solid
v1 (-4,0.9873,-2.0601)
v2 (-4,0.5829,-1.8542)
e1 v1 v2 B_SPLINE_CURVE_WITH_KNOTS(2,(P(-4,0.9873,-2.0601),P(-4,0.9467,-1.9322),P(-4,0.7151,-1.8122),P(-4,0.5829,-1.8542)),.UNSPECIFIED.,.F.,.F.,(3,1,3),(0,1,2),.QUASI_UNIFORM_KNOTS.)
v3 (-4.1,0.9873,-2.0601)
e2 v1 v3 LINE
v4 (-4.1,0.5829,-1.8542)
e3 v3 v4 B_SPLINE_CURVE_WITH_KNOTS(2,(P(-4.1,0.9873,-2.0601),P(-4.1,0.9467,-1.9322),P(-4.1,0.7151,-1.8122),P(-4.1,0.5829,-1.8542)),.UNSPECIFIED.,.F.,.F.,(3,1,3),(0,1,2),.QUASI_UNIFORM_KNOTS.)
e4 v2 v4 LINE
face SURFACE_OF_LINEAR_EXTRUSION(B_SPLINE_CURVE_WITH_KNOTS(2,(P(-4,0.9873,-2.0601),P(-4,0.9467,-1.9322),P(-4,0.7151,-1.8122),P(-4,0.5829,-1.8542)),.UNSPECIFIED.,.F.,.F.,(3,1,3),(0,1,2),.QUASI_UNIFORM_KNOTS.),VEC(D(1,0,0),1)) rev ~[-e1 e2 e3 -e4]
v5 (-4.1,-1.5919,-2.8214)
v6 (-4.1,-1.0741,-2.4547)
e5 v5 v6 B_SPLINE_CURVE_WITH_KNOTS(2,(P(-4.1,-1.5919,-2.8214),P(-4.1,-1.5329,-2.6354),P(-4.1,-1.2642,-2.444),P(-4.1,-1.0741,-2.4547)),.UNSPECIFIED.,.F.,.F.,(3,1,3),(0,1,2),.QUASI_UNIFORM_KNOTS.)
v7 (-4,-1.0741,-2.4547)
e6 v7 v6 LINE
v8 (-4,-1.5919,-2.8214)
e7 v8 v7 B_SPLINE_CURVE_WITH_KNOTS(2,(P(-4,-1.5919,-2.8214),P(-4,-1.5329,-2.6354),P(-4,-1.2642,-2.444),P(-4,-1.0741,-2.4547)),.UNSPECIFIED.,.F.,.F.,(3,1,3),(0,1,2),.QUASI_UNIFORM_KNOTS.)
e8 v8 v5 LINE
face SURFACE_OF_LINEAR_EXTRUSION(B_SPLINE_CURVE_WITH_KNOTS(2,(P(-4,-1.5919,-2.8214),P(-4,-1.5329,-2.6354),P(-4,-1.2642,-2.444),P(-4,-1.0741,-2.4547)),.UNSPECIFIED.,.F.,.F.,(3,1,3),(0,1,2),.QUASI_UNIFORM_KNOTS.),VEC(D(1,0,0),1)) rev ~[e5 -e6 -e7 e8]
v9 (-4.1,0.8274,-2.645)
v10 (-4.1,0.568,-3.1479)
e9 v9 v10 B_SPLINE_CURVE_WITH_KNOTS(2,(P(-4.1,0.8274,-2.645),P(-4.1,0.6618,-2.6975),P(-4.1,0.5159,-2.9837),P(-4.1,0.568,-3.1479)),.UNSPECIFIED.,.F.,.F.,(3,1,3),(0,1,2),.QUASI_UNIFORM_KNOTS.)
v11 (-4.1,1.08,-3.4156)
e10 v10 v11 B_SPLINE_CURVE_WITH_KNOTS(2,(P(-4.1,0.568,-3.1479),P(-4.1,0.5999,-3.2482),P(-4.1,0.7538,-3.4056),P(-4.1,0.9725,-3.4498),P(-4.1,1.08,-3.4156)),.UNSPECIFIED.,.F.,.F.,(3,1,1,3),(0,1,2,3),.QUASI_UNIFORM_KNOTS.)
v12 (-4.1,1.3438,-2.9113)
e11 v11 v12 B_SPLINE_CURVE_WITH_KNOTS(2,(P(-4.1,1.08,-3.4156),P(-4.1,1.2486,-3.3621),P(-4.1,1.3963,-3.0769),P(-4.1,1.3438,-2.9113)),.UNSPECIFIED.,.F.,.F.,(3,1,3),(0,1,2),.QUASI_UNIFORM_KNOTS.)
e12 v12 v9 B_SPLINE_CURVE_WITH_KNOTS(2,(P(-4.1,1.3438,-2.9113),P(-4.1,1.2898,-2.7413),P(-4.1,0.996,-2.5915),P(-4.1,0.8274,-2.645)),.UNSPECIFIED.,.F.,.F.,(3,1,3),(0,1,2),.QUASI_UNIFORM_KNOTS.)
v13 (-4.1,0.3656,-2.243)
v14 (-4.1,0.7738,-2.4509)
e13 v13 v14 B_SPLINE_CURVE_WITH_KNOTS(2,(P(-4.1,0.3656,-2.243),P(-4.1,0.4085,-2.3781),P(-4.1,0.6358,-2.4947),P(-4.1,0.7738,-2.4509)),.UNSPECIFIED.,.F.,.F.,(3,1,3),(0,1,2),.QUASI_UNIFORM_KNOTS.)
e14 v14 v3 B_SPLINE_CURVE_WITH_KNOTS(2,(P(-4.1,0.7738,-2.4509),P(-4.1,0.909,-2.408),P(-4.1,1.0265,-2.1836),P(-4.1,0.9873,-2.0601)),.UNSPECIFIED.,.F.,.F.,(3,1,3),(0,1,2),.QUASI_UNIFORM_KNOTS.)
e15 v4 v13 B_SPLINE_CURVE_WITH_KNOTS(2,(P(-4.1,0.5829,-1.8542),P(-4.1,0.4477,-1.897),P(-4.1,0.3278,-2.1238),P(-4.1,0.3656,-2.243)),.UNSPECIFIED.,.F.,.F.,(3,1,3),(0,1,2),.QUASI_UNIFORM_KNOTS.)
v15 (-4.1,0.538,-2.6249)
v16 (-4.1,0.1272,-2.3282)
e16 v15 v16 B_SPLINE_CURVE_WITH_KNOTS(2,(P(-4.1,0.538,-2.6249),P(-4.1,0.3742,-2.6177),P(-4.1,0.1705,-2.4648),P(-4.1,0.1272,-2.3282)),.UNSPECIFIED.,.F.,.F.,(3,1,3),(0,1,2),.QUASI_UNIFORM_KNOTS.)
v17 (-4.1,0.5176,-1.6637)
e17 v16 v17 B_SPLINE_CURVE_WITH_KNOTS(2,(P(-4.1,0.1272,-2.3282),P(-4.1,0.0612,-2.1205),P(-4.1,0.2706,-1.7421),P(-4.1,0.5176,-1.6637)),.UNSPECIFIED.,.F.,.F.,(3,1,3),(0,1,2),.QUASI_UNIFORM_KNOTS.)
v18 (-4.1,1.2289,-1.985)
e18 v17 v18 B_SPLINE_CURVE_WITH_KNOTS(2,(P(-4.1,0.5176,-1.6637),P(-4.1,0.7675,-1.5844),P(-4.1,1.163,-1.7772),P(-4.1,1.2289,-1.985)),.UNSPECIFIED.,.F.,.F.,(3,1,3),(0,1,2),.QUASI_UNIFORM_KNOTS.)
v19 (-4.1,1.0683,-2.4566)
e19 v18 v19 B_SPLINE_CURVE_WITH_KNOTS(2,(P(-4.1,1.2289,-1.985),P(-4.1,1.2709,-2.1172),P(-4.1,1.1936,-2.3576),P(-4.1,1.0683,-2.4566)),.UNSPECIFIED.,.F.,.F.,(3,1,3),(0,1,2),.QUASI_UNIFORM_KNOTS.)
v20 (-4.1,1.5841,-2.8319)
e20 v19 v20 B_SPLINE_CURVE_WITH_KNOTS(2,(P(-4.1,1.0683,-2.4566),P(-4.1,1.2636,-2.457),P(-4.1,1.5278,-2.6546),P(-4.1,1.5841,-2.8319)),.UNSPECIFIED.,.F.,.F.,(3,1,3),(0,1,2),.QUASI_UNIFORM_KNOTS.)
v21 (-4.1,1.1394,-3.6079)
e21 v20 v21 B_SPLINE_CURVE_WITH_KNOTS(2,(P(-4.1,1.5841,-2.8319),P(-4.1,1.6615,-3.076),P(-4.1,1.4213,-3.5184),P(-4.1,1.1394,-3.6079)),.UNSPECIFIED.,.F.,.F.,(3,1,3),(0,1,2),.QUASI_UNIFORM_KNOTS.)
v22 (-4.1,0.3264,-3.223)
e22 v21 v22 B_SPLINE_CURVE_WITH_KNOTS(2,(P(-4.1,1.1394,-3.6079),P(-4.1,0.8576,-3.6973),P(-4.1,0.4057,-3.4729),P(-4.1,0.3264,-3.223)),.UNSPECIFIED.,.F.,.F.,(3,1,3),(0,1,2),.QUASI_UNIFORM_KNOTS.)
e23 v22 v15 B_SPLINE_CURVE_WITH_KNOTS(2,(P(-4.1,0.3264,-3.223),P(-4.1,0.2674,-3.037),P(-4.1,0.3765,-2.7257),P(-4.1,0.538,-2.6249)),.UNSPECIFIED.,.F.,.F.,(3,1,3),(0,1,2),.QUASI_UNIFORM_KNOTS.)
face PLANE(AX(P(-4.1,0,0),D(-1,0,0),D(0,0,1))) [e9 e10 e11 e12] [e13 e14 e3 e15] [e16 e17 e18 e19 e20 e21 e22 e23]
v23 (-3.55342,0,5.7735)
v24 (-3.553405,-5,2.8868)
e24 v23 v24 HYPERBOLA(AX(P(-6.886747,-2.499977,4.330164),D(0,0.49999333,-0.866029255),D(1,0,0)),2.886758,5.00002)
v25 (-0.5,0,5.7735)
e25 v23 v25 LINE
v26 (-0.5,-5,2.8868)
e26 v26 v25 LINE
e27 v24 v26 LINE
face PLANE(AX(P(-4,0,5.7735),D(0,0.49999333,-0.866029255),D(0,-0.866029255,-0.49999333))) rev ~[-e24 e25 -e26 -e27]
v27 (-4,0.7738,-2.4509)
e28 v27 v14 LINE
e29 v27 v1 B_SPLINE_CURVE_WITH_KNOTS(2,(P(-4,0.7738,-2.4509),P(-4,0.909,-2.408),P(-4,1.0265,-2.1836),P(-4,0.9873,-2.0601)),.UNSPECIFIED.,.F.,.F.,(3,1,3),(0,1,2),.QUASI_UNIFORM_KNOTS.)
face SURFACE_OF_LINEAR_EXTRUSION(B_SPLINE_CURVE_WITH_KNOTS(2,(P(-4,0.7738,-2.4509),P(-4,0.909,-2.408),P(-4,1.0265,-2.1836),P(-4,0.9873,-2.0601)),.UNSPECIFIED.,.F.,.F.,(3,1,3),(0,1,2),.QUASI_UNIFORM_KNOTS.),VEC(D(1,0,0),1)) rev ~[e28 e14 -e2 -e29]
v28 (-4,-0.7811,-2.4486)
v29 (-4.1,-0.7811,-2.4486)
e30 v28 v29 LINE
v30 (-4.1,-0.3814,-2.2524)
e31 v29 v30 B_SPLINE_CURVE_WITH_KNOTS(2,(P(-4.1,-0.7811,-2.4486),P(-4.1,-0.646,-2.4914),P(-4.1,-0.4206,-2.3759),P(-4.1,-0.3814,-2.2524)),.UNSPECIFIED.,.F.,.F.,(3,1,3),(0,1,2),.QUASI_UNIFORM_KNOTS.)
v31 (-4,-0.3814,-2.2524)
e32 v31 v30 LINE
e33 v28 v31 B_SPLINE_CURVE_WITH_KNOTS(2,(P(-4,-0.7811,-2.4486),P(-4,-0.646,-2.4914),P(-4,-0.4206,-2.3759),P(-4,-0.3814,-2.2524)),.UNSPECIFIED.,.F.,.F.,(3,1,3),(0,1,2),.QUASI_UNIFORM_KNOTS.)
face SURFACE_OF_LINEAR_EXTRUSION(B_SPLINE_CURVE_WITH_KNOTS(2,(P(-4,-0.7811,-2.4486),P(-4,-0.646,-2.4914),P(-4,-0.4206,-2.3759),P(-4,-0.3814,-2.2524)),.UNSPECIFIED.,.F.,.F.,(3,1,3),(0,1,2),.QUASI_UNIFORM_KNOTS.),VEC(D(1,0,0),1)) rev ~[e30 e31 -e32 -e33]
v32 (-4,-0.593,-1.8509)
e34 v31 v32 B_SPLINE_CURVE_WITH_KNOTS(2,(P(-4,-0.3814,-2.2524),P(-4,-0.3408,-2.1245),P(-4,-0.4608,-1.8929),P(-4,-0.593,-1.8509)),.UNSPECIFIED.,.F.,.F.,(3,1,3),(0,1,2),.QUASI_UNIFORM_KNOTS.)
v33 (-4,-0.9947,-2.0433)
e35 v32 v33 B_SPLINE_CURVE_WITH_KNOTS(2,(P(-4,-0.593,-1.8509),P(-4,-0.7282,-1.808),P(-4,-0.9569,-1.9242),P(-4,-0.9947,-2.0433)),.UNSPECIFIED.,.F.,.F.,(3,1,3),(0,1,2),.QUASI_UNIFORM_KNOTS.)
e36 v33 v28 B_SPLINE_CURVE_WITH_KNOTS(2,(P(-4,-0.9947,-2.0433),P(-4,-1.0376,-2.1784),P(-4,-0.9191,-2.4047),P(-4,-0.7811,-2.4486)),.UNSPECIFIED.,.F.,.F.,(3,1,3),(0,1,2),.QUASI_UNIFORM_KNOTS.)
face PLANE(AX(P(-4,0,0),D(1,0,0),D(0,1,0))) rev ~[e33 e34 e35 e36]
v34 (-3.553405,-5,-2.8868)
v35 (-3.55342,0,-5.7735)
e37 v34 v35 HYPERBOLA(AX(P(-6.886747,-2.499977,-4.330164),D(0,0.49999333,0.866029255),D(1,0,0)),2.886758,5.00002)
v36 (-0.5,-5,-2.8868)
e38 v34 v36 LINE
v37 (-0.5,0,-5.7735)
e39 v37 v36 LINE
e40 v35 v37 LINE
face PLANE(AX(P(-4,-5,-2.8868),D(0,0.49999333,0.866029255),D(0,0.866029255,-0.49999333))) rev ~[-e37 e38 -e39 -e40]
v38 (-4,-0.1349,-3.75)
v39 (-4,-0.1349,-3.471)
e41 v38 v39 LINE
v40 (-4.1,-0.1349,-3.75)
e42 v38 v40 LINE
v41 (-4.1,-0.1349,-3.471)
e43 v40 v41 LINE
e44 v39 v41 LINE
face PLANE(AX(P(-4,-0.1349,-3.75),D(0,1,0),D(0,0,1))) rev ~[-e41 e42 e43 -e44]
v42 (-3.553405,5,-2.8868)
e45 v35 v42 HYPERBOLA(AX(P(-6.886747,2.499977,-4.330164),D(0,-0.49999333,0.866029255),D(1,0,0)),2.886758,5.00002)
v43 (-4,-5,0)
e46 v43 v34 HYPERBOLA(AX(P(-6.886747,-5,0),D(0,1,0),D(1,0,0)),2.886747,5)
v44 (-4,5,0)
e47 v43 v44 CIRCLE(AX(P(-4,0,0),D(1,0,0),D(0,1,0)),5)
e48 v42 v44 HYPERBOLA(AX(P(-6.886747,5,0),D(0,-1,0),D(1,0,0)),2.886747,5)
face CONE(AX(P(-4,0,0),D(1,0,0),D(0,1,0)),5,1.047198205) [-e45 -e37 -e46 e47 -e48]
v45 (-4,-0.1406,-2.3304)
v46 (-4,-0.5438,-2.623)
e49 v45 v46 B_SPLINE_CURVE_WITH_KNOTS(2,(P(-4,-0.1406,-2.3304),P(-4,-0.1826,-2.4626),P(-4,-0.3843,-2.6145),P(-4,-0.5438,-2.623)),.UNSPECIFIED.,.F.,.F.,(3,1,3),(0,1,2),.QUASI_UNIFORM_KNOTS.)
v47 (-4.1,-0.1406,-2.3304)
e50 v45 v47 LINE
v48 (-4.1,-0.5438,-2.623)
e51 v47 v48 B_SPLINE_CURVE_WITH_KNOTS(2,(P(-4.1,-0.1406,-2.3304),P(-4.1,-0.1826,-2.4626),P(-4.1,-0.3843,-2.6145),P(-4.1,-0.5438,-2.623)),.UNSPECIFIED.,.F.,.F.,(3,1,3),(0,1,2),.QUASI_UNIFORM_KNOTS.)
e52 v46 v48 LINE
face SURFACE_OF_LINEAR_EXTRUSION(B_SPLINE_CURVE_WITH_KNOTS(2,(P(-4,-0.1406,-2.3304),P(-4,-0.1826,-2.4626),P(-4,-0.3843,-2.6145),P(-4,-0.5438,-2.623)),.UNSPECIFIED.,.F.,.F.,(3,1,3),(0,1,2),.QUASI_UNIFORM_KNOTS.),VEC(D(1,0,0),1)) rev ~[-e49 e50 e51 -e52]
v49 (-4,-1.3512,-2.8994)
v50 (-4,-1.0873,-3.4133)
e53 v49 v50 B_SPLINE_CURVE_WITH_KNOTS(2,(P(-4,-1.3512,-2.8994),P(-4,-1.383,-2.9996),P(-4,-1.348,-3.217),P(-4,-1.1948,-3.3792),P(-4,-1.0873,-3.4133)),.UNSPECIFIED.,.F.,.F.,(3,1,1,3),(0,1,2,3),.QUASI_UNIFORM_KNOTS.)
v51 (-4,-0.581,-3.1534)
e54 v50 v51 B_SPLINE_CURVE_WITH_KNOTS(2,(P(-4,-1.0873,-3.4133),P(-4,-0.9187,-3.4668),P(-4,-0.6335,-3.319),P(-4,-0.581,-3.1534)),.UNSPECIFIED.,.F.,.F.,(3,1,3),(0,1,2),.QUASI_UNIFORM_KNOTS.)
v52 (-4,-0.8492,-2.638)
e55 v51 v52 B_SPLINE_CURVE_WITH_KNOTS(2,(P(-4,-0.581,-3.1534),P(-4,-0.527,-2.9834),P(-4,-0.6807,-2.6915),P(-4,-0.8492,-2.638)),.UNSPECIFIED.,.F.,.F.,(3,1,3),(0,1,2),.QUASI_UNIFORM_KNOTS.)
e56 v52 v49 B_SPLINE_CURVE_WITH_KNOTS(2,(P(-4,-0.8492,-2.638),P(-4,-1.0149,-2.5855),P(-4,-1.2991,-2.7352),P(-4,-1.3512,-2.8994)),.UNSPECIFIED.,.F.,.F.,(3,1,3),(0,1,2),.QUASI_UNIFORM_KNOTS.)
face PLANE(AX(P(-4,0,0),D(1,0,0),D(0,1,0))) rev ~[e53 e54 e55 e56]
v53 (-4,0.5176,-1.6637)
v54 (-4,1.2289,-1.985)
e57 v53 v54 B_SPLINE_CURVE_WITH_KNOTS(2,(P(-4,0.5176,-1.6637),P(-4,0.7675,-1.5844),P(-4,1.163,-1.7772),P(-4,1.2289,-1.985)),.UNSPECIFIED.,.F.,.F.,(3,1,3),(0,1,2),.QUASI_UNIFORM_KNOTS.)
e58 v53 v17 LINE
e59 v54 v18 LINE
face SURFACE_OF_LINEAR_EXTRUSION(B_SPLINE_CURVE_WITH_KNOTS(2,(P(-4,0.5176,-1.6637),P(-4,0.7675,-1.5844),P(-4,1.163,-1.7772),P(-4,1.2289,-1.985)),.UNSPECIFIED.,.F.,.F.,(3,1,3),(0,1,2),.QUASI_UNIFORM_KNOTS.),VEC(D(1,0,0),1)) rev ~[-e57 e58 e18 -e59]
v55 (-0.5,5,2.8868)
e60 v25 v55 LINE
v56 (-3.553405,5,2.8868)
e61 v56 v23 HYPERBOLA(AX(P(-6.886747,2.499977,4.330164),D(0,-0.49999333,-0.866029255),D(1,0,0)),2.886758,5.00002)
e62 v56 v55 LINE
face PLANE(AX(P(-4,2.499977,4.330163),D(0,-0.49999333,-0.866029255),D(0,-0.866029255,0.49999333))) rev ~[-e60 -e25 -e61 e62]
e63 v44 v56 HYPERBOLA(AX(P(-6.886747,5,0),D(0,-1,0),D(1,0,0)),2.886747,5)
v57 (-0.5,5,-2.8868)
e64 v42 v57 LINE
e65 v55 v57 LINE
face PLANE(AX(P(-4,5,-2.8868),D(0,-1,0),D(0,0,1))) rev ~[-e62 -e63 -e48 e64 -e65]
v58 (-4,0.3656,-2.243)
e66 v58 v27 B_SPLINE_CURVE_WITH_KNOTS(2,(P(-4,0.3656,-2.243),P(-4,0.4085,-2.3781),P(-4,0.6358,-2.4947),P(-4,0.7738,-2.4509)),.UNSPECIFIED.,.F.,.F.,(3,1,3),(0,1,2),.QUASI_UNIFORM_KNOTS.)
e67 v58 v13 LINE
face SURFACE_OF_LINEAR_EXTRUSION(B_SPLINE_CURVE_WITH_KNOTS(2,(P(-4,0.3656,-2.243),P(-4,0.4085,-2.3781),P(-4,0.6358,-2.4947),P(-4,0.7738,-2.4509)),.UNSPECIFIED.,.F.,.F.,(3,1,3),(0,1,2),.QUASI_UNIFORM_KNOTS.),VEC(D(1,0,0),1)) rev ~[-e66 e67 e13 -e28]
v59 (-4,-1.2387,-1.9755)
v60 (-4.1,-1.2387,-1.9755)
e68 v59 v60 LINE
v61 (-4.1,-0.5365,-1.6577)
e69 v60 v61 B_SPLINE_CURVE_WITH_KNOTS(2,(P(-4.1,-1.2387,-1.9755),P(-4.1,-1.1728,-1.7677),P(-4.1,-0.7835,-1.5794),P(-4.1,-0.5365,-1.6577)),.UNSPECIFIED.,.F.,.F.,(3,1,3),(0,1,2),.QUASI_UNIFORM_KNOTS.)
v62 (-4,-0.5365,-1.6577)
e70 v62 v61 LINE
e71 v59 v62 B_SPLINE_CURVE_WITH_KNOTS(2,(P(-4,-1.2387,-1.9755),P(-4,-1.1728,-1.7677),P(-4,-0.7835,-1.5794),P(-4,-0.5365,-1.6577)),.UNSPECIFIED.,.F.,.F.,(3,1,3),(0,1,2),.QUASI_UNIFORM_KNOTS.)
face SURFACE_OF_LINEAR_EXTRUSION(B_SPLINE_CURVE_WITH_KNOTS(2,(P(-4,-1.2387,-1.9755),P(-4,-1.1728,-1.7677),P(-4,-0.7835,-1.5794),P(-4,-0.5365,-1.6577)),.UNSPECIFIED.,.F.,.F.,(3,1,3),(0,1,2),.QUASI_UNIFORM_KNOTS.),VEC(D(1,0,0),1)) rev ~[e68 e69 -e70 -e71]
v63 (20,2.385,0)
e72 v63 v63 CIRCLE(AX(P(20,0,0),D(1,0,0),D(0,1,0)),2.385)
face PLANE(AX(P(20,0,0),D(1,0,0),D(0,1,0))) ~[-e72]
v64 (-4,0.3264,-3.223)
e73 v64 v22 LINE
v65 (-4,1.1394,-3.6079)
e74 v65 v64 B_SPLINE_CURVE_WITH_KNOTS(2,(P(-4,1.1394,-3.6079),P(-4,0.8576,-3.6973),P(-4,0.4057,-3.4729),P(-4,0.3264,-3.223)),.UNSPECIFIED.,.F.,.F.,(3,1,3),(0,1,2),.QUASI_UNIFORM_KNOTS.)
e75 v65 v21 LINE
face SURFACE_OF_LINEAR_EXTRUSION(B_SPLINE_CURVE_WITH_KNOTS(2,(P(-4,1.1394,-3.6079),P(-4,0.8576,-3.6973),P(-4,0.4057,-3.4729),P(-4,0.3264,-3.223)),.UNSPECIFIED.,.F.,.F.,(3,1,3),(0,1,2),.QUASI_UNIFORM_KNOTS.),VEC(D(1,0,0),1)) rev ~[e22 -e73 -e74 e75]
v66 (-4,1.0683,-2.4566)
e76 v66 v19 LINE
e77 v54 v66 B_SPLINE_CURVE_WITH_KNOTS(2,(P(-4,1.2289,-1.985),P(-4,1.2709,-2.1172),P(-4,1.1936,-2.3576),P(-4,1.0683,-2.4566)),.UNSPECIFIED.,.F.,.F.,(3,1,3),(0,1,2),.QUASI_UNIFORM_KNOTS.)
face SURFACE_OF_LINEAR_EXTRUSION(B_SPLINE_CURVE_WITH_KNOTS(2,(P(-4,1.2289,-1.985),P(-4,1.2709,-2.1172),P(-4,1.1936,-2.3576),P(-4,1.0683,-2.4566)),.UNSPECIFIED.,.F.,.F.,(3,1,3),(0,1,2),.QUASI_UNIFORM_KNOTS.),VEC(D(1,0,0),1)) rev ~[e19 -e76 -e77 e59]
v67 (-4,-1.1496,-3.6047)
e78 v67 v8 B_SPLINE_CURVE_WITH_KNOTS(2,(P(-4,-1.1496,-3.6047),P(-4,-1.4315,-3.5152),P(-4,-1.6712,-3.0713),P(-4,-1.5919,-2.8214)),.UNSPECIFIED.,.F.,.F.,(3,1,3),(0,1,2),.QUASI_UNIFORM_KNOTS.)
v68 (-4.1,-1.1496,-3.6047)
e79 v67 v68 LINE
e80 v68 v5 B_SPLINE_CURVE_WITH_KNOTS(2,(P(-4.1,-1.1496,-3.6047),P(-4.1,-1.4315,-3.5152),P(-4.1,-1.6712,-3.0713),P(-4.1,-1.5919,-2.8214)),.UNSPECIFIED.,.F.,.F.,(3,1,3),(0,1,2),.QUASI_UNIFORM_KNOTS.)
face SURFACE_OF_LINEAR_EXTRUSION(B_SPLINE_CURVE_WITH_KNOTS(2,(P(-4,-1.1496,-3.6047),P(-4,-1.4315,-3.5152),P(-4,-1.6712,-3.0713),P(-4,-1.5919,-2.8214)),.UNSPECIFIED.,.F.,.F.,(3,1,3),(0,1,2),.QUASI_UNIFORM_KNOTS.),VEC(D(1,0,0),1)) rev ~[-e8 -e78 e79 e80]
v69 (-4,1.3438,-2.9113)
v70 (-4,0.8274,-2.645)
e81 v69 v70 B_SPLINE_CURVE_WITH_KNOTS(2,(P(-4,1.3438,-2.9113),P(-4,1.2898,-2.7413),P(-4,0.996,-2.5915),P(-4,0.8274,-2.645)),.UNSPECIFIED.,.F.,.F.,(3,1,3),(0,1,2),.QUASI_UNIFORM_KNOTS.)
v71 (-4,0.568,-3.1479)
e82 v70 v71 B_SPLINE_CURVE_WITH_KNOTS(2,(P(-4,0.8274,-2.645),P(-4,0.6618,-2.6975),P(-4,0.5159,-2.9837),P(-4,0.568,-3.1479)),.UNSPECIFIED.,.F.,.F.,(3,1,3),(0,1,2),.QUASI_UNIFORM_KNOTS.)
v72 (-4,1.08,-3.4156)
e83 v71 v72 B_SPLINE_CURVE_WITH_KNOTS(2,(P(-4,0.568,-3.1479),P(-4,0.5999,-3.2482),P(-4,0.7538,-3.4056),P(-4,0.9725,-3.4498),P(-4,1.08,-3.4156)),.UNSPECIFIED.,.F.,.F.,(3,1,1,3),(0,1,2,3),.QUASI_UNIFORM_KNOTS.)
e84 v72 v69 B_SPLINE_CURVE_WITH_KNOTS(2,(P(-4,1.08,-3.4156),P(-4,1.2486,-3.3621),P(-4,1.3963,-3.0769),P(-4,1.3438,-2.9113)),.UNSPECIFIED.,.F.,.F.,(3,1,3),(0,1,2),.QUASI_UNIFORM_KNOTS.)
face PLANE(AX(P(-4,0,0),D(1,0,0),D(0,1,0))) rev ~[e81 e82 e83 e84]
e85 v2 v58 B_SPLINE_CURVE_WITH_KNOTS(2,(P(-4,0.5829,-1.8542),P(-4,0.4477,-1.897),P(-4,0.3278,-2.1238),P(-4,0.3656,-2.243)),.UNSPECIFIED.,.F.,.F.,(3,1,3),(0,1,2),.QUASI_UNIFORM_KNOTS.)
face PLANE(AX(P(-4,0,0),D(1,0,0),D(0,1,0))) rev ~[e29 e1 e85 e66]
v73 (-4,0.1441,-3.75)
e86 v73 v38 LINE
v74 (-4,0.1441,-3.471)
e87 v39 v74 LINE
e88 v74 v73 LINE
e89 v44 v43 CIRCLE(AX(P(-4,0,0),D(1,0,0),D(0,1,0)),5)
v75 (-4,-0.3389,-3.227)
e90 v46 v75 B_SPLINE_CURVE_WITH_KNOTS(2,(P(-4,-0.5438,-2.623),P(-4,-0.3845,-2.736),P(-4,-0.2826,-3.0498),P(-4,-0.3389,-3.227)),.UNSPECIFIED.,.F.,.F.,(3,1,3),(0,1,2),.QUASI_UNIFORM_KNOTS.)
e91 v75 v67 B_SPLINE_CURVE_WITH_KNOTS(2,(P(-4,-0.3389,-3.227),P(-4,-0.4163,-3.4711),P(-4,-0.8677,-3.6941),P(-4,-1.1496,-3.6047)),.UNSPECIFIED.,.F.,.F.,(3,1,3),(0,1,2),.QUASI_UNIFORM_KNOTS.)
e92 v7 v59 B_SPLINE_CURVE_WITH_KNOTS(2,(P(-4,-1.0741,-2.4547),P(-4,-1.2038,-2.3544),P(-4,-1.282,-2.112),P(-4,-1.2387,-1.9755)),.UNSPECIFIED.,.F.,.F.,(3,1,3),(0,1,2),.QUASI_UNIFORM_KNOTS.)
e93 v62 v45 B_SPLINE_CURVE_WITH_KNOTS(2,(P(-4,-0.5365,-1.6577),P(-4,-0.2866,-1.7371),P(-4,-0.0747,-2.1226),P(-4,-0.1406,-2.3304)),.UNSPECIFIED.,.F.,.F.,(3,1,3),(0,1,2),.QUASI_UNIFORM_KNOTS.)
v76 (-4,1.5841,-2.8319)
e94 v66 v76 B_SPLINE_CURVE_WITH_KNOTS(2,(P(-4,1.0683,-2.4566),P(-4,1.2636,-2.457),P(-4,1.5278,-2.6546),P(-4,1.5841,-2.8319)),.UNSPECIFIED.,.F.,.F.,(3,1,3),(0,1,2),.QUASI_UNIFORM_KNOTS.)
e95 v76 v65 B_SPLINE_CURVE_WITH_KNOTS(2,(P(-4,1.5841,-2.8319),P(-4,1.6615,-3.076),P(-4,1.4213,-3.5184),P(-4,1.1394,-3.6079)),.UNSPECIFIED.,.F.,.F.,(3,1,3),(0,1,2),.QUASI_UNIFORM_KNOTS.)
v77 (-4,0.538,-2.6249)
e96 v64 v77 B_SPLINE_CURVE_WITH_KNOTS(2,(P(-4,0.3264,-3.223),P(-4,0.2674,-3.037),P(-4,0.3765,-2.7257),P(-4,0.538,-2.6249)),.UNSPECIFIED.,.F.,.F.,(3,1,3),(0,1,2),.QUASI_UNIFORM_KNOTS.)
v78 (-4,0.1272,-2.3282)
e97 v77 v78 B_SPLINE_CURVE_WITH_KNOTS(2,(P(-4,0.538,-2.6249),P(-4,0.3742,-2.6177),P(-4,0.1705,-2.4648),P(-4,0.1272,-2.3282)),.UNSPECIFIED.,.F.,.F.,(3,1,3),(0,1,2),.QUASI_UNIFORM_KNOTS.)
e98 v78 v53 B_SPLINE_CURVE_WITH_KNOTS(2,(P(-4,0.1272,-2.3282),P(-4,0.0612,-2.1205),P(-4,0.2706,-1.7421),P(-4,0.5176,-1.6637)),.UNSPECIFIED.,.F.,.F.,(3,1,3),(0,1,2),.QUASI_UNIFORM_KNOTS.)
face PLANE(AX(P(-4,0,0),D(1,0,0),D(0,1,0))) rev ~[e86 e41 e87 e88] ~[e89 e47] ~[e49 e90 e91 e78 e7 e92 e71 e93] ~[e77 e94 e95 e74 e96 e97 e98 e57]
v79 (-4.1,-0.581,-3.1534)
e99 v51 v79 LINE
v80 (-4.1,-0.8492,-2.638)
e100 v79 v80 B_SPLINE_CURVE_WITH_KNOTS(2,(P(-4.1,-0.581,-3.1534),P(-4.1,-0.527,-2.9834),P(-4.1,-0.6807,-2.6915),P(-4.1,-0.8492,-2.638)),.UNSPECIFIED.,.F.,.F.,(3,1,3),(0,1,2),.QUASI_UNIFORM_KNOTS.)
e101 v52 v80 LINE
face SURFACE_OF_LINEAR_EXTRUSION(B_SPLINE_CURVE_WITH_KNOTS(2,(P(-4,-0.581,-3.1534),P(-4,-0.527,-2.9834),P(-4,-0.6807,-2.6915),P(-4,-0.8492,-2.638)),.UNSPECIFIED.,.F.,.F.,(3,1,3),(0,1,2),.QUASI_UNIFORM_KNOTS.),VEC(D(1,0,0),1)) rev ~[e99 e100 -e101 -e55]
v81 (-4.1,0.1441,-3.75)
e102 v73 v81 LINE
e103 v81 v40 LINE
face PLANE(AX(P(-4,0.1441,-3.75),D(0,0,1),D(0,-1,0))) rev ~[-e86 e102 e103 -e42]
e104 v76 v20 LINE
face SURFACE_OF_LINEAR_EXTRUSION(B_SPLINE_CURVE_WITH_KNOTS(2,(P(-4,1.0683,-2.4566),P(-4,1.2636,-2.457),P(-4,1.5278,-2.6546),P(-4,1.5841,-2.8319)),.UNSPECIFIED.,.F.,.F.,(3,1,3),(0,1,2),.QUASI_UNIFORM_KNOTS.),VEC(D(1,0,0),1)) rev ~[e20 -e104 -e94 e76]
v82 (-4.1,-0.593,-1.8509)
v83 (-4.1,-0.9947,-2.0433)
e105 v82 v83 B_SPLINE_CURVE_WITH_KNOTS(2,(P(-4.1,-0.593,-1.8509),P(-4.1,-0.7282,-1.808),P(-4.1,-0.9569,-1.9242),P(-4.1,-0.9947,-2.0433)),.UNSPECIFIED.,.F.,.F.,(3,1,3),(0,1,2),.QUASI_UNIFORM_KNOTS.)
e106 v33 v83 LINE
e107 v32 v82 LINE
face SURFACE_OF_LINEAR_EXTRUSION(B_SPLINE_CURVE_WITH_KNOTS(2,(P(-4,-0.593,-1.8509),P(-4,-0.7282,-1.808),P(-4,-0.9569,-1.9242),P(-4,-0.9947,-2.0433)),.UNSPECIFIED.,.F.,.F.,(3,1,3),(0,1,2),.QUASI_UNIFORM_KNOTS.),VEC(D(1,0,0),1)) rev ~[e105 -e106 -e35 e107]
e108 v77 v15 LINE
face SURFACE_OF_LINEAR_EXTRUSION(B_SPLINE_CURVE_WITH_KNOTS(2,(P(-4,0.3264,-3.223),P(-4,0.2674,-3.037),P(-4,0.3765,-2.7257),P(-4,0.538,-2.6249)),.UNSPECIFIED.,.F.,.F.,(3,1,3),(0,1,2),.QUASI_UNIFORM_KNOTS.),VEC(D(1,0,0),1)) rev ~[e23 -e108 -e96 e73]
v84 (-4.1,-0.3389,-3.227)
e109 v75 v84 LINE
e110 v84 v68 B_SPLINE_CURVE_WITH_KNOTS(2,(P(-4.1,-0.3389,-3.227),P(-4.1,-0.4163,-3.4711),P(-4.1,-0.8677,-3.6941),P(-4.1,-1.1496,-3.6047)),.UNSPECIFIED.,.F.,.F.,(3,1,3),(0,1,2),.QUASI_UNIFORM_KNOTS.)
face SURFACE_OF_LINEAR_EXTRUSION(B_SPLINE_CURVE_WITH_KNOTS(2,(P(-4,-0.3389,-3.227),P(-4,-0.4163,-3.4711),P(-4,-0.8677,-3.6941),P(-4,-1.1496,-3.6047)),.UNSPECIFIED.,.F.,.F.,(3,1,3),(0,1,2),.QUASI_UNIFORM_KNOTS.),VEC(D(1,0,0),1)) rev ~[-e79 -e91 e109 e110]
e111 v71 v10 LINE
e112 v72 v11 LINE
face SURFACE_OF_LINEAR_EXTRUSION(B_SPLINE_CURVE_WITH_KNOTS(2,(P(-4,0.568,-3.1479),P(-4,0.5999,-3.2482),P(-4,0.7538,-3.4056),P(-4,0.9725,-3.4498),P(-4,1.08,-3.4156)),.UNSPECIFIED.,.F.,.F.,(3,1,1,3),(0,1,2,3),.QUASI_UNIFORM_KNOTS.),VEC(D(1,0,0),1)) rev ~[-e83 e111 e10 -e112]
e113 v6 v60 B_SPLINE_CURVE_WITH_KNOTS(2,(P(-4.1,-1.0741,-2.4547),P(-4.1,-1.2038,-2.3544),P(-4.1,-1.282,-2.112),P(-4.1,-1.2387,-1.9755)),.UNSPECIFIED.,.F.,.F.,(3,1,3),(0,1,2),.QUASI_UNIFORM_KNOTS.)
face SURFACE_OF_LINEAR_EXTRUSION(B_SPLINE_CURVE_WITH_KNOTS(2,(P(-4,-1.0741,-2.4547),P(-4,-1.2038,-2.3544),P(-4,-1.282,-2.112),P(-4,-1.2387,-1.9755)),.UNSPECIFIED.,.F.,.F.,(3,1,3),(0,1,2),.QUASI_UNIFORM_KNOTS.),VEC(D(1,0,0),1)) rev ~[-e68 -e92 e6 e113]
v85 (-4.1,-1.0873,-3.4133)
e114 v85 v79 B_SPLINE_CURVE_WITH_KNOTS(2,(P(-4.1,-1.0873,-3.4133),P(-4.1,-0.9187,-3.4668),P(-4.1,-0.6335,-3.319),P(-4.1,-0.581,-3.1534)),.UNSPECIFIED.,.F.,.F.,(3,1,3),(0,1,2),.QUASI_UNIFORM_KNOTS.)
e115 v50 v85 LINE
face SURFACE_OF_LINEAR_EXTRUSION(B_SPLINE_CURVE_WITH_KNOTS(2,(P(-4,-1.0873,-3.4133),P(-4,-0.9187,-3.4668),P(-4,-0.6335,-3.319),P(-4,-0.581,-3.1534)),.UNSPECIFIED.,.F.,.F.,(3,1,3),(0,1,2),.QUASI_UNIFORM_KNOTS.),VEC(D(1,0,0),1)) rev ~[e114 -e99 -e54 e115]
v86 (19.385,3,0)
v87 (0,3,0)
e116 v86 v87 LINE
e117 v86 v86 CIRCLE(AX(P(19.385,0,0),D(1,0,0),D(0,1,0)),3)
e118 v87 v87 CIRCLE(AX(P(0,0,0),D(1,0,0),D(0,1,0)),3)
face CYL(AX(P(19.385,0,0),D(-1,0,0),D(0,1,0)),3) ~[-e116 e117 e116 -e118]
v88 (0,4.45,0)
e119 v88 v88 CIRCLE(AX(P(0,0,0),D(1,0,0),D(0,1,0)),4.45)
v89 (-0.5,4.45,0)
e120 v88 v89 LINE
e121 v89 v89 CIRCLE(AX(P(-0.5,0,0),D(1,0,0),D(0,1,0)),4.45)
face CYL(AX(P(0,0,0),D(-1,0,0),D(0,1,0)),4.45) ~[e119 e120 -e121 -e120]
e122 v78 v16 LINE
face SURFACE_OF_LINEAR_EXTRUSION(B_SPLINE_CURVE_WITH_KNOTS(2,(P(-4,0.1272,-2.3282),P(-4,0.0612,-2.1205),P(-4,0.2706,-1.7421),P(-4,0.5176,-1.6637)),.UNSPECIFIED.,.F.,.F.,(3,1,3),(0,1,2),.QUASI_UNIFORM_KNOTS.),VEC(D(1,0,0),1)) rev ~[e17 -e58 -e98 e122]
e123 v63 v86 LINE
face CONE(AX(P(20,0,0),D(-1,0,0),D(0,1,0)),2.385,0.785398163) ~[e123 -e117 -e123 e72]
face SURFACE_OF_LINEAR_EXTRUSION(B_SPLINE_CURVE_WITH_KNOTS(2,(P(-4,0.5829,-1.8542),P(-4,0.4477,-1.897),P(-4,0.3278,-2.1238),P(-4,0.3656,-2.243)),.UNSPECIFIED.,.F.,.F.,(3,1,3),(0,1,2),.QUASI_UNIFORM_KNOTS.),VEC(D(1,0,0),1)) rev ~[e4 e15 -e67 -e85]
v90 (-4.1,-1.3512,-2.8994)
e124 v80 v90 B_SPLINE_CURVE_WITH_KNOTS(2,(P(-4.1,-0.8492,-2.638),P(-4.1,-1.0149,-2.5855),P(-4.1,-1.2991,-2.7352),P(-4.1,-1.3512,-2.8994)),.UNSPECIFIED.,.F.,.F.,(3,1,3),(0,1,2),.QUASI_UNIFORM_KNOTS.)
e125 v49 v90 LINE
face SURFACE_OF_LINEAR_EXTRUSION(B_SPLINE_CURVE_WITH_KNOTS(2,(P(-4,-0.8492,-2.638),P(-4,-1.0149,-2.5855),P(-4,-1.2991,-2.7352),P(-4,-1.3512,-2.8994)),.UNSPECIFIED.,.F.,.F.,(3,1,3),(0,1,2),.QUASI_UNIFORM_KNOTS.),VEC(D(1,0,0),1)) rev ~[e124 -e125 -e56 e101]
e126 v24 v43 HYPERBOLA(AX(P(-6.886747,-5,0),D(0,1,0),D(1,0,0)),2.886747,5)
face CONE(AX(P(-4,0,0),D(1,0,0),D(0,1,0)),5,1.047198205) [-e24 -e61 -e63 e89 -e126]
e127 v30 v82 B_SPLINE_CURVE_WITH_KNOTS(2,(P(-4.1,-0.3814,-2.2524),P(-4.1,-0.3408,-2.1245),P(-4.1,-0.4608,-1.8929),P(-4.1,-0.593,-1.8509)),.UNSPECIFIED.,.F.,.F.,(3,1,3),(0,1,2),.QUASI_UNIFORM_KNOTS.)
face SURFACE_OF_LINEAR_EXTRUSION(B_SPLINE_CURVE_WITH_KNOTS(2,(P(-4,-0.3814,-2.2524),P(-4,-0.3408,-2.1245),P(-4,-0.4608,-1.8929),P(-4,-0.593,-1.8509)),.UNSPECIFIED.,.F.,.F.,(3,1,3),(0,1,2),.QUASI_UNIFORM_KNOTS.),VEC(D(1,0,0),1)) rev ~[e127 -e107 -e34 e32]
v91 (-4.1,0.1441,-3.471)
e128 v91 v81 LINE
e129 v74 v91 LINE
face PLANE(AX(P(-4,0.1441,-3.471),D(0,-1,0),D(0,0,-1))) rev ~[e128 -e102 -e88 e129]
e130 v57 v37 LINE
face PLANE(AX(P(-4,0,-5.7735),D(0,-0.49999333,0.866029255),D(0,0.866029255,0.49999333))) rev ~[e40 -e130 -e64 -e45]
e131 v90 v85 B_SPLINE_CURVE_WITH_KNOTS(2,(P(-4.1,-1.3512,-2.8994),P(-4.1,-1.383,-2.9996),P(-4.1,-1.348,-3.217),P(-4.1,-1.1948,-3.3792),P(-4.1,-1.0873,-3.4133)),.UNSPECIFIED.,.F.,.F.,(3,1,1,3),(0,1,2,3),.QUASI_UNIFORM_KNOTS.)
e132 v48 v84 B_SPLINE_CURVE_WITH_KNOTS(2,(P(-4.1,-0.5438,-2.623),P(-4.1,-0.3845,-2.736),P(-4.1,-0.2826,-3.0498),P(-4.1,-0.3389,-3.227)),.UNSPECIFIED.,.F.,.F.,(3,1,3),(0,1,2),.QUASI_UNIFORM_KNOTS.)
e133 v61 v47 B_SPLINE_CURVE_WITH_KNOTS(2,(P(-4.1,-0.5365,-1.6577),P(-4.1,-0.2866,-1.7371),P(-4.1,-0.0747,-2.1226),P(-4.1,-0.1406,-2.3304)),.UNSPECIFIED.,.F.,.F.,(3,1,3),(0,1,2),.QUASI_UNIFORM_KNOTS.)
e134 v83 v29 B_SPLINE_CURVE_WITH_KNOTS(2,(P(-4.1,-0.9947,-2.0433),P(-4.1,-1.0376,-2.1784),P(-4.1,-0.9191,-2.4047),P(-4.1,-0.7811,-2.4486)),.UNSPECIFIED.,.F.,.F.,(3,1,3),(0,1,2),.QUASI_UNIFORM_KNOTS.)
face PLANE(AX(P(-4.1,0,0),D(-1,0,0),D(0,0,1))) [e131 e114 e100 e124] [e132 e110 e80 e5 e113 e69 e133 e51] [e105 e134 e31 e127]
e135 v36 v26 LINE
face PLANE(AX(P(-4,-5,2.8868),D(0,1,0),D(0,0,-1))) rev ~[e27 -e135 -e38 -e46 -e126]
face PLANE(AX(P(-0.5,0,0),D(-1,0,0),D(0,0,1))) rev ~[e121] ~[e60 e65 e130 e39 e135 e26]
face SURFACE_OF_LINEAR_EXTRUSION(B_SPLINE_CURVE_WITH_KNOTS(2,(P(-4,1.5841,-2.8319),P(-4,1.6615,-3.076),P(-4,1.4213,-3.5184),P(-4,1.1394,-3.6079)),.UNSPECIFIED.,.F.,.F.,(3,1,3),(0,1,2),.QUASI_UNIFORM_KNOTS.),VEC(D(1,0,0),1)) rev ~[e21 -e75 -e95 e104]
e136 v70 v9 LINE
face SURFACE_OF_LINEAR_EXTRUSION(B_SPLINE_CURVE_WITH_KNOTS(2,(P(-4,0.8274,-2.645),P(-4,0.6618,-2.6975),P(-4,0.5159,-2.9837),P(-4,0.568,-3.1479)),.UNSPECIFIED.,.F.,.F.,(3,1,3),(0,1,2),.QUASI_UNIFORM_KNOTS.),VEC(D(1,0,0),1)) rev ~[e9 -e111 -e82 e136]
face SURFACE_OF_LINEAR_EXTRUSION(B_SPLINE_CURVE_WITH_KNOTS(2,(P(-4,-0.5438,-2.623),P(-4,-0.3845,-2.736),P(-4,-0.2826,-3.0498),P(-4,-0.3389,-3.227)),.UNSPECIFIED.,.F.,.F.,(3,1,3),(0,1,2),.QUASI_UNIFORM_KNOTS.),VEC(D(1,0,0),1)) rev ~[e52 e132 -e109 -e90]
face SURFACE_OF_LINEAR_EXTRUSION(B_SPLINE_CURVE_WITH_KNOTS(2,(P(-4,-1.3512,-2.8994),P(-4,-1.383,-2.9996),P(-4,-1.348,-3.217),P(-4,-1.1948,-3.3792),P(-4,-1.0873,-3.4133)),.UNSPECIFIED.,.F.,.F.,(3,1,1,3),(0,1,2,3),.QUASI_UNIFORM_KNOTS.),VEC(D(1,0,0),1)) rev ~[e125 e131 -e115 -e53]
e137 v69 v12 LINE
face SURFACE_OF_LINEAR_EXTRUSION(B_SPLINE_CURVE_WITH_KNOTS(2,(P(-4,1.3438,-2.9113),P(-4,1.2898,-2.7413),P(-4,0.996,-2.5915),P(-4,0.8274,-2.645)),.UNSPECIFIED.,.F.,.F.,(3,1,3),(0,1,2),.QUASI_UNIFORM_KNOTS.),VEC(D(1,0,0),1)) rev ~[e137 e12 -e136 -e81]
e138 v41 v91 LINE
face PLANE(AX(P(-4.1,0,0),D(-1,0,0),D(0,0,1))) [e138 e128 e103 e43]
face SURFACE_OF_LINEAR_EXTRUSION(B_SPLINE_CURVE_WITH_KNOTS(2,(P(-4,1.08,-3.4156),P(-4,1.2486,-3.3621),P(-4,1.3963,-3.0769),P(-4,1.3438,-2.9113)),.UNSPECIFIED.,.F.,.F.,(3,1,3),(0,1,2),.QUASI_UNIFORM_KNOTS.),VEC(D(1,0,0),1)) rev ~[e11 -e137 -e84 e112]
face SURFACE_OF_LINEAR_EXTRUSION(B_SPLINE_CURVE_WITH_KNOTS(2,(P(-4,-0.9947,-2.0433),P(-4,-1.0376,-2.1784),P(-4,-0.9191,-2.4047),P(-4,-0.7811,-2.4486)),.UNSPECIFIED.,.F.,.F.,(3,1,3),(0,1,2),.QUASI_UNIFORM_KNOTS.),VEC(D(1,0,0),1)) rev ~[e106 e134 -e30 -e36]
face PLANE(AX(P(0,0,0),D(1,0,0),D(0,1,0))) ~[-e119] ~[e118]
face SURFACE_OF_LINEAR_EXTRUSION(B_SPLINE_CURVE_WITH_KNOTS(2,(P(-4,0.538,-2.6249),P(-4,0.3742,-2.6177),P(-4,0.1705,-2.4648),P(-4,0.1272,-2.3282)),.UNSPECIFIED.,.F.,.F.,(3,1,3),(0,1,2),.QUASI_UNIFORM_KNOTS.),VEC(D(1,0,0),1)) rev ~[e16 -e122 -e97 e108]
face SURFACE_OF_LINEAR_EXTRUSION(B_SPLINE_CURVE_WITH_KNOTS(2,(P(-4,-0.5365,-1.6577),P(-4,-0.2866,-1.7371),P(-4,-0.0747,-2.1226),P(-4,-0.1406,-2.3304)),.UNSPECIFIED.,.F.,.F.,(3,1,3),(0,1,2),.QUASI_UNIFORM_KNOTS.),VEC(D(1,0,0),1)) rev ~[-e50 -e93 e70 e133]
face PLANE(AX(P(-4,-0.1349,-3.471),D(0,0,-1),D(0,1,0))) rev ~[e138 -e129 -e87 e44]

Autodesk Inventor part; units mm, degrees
ref_plane "YZ Plane" through (0, 0, 0) normal (1, 0, 0) x (0, 1, 0)
ref_plane "XZ Plane" through (0, 0, 0) normal (0, 1, 0) x (-1, 0, 0)
ref_plane "XY Plane" through (0, 0, 0) normal (0, 0, 1) x (1, 0, 0)
sketch "Sketch1" plane through (0, 0, 0) normal (0, 0, 1) x (1, 0, 0)
  line L0 (-8.8, 0) -> (24.8, 0) projected
  line L1 (20, 0) -> (20, 2.385)
  line L2 (20, 2.385) -> (19.385, 3)
  line L3 (19.385, 3) -> (0, 3)
  line L4 (0, 3) -> (0, 4.45)
  line L5 (0, 4.45) -> (-0.5, 4.45)
  line L6 (-0.5, 4.45) -> (-0.5, 5)
  line L7 (-0.5, 5) -> (-4, 5)
  line L8 (-4, 5) -> (-4, 0)
  point P0 (0, 0)
  dimension "d0" = 6
  dimension "d1" = 20
  dimension "d2" = 10
  dimension "d3" = 8.9
  dimension "d4" = 4
  dimension "d5" = 45
  dimension "d6" = 4.77
  dimension "d7" = 0.5
revolve "Revolution1" add sketch "Sketch1" angle 360 about axis through (-10, 0, 0) along (1, 0, 0)
sketch "Sketch2" plane through (-4, 0, 0) normal (-1, 0, 0) x (0, 0, 1)
  circle A0 centre (0, 0) radius 5 projected
  line L0 (2.8868, 5) -> (5.7735, 0)
  line L1 (5.7735, 0) -> (2.8868, -5)
  line L2 (2.8868, -5) -> (-2.8868, -5)
  line L3 (-2.8868, -5) -> (-5.7735, 0)
  line L4 (-5.7735, 0) -> (-2.8868, 5)
  line L5 (-2.8868, 5) -> (2.8868, 5)
  point P0 (0, 5)
extrude "Extrusion1" add sketch "Sketch2" against normal up to surface (3.5 mm away)
sketch "Sketch3" plane through (0, 0, 0) normal (0, 0, 1) x (1, 0, 0)
  line L0 (-4, 5.55) -> (-0.5, 5.55)
  line L1 (-0.5, 5.55) -> (-0.5, 6.66)
  line L2 (-0.5, 6.66) -> (-4, 6.66)
  line L3 (-4, 6.66) -> (-4, 5.55)
  line L4 (-4.8, 0) -> (0.8, 0) projected
  line L5 (-4, 5) -> (-3.0416, 6.66)
  line L6 (-4, 5.55) -> (-4, 5)
  point P0 (0, 0)
  point P1 (-0.5, 5)
  dimension "d11" = 11.1
  dimension "d12" = 1.11
  dimension "d13" = 30
revolve "Revolution2" cut sketch "Sketch3" angle 360 about axis through (-10, 0, 0) along (1, 0, 0) contours L3 L2 L5 L0 | L0 L5 L6
thread "Thread1" size "M6x1" class "6g" standard "ISO Metric profile" full length
sketch "Sketch4" plane through (-4, 0, 0) normal (-1, 0, 0) x (0, 0, 1)
  circle A0 centre (0, 0) radius 3.75 construction
  spline S0 degree 2 poles (-2.4547, -1.0741) (-2.3544, -1.2038) (-2.112, -1.282) (-1.9755, -1.2387) knots 0 0 0 1 2 2 2
  spline S1 degree 2 poles (-1.9755, -1.2387) (-1.7677, -1.1728) (-1.5794, -0.7835) (-1.6577, -0.5365) knots 0 0 0 1 2 2 2
  spline S2 degree 2 poles (-1.6577, -0.5365) (-1.7371, -0.2866) (-2.1226, -0.0747) (-2.3304, -0.1406) knots 0 0 0 1 2 2 2
  spline S3 degree 2 poles (-2.3304, -0.1406) (-2.4626, -0.1826) (-2.6145, -0.3843) (-2.623, -0.5438) knots 0 0 0 1 2 2 2
  spline S4 degree 2 poles (-2.623, -0.5438) (-2.736, -0.3845) (-3.0498, -0.2826) (-3.227, -0.3389) knots 0 0 0 1 2 2 2
  spline S5 degree 2 poles (-3.227, -0.3389) (-3.4711, -0.4163) (-3.6941, -0.8677) (-3.6047, -1.1496) knots 0 0 0 1 2 2 2
  spline S6 degree 2 poles (-3.6047, -1.1496) (-3.5152, -1.4315) (-3.0713, -1.6712) (-2.8214, -1.5919) knots 0 0 0 1 2 2 2
  spline S7 degree 2 poles (-2.8214, -1.5919) (-2.6354, -1.5329) (-2.444, -1.2642) (-2.4547, -1.0741) knots 0 0 0 1 2 2 2
  spline S8 degree 2 poles (-2.8994, -1.3512) (-2.9996, -1.383) (-3.217, -1.348) (-3.3792, -1.1948) (-3.4133, -1.0873) knots 0 0 0 1 2 3 3 3
  spline S9 degree 2 poles (-3.4133, -1.0873) (-3.4668, -0.9187) (-3.319, -0.6335) (-3.1534, -0.581) knots 0 0 0 1 2 2 2
  spline S10 degree 2 poles (-3.1534, -0.581) (-2.9834, -0.527) (-2.6915, -0.6807) (-2.638, -0.8492) knots 0 0 0 1 2 2 2
  spline S11 degree 2 poles (-2.638, -0.8492) (-2.5855, -1.0149) (-2.7352, -1.2991) (-2.8994, -1.3512) knots 0 0 0 1 2 2 2
  spline S12 degree 2 poles (-2.0433, -0.9947) (-2.1784, -1.0376) (-2.4047, -0.9191) (-2.4486, -0.7811) knots 0 0 0 1 2 2 2
  spline S13 degree 2 poles (-2.4486, -0.7811) (-2.4914, -0.646) (-2.3759, -0.4206) (-2.2524, -0.3814) knots 0 0 0 1 2 2 2
  spline S14 degree 2 poles (-2.2524, -0.3814) (-2.1245, -0.3408) (-1.8929, -0.4608) (-1.8509, -0.593) knots 0 0 0 1 2 2 2
  spline S15 degree 2 poles (-1.8509, -0.593) (-1.808, -0.7282) (-1.9242, -0.9569) (-2.0433, -0.9947) knots 0 0 0 1 2 2 2
  line L0 (-3.75, -0.1349) -> (-3.471, -0.1349)
  line L1 (-3.471, -0.1349) -> (-3.471, 0.1441)
  line L2 (-3.471, 0.1441) -> (-3.75, 0.1441)
  line L3 (-3.75, 0.1441) -> (-3.75, -0.1349)
  spline S16 degree 2 poles (-2.6249, 0.538) (-2.6177, 0.3742) (-2.4648, 0.1705) (-2.3282, 0.1272) knots 0 0 0 1 2 2 2
  spline S17 degree 2 poles (-2.3282, 0.1272) (-2.1205, 0.0612) (-1.7421, 0.2706) (-1.6637, 0.5176) knots 0 0 0 1 2 2 2
  spline S18 degree 2 poles (-1.6637, 0.5176) (-1.5844, 0.7675) (-1.7772, 1.163) (-1.985, 1.2289) knots 0 0 0 1 2 2 2
  spline S19 degree 2 poles (-1.985, 1.2289) (-2.1172, 1.2709) (-2.3576, 1.1936) (-2.4566, 1.0683) knots 0 0 0 1 2 2 2
  spline S20 degree 2 poles (-2.4566, 1.0683) (-2.457, 1.2636) (-2.6546, 1.5278) (-2.8319, 1.5841) knots 0 0 0 1 2 2 2
  spline S21 degree 2 poles (-2.8319, 1.5841) (-3.076, 1.6615) (-3.5184, 1.4213) (-3.6079, 1.1394) knots 0 0 0 1 2 2 2
  spline S22 degree 2 poles (-3.6079, 1.1394) (-3.6973, 0.8576) (-3.4729, 0.4057) (-3.223, 0.3264) knots 0 0 0 1 2 2 2
  spline S23 degree 2 poles (-3.223, 0.3264) (-3.037, 0.2674) (-2.7257, 0.3765) (-2.6249, 0.538) knots 0 0 0 1 2 2 2
  spline S24 degree 2 poles (-3.1479, 0.568) (-3.2482, 0.5999) (-3.4056, 0.7538) (-3.4498, 0.9725) (-3.4156, 1.08) knots 0 0 0 1 2 3 3 3
  spline S25 degree 2 poles (-3.4156, 1.08) (-3.3621, 1.2486) (-3.0769, 1.3963) (-2.9113, 1.3438) knots 0 0 0 1 2 2 2
  spline S26 degree 2 poles (-2.9113, 1.3438) (-2.7413, 1.2898) (-2.5915, 0.996) (-2.645, 0.8274) knots 0 0 0 1 2 2 2
  spline S27 degree 2 poles (-2.645, 0.8274) (-2.6975, 0.6618) (-2.9837, 0.5159) (-3.1479, 0.568) knots 0 0 0 1 2 2 2
  spline S28 degree 2 poles (-2.243, 0.3656) (-2.3781, 0.4085) (-2.4947, 0.6358) (-2.4509, 0.7738) knots 0 0 0 1 2 2 2
  spline S29 degree 2 poles (-2.4509, 0.7738) (-2.408, 0.909) (-2.1836, 1.0265) (-2.0601, 0.9873) knots 0 0 0 1 2 2 2
  spline S30 degree 2 poles (-2.0601, 0.9873) (-1.9322, 0.9467) (-1.8122, 0.7151) (-1.8542, 0.5829) knots 0 0 0 1 2 2 2
  spline S31 degree 2 poles (-1.8542, 0.5829) (-1.897, 0.4477) (-2.1238, 0.3278) (-2.243, 0.3656) knots 0 0 0 1 2 2 2
  dimension "d17" = 7.5
extrude "Extrusion2" add sketch "Sketch4" along normal blind 0.1
equation "\"d7\" = 0.125 * d4"
equation "\"d12\" = 0.1 * d11"
properties part number "Sechskantschraube ISO 4017-M6x20-8.8" material "Steel"
